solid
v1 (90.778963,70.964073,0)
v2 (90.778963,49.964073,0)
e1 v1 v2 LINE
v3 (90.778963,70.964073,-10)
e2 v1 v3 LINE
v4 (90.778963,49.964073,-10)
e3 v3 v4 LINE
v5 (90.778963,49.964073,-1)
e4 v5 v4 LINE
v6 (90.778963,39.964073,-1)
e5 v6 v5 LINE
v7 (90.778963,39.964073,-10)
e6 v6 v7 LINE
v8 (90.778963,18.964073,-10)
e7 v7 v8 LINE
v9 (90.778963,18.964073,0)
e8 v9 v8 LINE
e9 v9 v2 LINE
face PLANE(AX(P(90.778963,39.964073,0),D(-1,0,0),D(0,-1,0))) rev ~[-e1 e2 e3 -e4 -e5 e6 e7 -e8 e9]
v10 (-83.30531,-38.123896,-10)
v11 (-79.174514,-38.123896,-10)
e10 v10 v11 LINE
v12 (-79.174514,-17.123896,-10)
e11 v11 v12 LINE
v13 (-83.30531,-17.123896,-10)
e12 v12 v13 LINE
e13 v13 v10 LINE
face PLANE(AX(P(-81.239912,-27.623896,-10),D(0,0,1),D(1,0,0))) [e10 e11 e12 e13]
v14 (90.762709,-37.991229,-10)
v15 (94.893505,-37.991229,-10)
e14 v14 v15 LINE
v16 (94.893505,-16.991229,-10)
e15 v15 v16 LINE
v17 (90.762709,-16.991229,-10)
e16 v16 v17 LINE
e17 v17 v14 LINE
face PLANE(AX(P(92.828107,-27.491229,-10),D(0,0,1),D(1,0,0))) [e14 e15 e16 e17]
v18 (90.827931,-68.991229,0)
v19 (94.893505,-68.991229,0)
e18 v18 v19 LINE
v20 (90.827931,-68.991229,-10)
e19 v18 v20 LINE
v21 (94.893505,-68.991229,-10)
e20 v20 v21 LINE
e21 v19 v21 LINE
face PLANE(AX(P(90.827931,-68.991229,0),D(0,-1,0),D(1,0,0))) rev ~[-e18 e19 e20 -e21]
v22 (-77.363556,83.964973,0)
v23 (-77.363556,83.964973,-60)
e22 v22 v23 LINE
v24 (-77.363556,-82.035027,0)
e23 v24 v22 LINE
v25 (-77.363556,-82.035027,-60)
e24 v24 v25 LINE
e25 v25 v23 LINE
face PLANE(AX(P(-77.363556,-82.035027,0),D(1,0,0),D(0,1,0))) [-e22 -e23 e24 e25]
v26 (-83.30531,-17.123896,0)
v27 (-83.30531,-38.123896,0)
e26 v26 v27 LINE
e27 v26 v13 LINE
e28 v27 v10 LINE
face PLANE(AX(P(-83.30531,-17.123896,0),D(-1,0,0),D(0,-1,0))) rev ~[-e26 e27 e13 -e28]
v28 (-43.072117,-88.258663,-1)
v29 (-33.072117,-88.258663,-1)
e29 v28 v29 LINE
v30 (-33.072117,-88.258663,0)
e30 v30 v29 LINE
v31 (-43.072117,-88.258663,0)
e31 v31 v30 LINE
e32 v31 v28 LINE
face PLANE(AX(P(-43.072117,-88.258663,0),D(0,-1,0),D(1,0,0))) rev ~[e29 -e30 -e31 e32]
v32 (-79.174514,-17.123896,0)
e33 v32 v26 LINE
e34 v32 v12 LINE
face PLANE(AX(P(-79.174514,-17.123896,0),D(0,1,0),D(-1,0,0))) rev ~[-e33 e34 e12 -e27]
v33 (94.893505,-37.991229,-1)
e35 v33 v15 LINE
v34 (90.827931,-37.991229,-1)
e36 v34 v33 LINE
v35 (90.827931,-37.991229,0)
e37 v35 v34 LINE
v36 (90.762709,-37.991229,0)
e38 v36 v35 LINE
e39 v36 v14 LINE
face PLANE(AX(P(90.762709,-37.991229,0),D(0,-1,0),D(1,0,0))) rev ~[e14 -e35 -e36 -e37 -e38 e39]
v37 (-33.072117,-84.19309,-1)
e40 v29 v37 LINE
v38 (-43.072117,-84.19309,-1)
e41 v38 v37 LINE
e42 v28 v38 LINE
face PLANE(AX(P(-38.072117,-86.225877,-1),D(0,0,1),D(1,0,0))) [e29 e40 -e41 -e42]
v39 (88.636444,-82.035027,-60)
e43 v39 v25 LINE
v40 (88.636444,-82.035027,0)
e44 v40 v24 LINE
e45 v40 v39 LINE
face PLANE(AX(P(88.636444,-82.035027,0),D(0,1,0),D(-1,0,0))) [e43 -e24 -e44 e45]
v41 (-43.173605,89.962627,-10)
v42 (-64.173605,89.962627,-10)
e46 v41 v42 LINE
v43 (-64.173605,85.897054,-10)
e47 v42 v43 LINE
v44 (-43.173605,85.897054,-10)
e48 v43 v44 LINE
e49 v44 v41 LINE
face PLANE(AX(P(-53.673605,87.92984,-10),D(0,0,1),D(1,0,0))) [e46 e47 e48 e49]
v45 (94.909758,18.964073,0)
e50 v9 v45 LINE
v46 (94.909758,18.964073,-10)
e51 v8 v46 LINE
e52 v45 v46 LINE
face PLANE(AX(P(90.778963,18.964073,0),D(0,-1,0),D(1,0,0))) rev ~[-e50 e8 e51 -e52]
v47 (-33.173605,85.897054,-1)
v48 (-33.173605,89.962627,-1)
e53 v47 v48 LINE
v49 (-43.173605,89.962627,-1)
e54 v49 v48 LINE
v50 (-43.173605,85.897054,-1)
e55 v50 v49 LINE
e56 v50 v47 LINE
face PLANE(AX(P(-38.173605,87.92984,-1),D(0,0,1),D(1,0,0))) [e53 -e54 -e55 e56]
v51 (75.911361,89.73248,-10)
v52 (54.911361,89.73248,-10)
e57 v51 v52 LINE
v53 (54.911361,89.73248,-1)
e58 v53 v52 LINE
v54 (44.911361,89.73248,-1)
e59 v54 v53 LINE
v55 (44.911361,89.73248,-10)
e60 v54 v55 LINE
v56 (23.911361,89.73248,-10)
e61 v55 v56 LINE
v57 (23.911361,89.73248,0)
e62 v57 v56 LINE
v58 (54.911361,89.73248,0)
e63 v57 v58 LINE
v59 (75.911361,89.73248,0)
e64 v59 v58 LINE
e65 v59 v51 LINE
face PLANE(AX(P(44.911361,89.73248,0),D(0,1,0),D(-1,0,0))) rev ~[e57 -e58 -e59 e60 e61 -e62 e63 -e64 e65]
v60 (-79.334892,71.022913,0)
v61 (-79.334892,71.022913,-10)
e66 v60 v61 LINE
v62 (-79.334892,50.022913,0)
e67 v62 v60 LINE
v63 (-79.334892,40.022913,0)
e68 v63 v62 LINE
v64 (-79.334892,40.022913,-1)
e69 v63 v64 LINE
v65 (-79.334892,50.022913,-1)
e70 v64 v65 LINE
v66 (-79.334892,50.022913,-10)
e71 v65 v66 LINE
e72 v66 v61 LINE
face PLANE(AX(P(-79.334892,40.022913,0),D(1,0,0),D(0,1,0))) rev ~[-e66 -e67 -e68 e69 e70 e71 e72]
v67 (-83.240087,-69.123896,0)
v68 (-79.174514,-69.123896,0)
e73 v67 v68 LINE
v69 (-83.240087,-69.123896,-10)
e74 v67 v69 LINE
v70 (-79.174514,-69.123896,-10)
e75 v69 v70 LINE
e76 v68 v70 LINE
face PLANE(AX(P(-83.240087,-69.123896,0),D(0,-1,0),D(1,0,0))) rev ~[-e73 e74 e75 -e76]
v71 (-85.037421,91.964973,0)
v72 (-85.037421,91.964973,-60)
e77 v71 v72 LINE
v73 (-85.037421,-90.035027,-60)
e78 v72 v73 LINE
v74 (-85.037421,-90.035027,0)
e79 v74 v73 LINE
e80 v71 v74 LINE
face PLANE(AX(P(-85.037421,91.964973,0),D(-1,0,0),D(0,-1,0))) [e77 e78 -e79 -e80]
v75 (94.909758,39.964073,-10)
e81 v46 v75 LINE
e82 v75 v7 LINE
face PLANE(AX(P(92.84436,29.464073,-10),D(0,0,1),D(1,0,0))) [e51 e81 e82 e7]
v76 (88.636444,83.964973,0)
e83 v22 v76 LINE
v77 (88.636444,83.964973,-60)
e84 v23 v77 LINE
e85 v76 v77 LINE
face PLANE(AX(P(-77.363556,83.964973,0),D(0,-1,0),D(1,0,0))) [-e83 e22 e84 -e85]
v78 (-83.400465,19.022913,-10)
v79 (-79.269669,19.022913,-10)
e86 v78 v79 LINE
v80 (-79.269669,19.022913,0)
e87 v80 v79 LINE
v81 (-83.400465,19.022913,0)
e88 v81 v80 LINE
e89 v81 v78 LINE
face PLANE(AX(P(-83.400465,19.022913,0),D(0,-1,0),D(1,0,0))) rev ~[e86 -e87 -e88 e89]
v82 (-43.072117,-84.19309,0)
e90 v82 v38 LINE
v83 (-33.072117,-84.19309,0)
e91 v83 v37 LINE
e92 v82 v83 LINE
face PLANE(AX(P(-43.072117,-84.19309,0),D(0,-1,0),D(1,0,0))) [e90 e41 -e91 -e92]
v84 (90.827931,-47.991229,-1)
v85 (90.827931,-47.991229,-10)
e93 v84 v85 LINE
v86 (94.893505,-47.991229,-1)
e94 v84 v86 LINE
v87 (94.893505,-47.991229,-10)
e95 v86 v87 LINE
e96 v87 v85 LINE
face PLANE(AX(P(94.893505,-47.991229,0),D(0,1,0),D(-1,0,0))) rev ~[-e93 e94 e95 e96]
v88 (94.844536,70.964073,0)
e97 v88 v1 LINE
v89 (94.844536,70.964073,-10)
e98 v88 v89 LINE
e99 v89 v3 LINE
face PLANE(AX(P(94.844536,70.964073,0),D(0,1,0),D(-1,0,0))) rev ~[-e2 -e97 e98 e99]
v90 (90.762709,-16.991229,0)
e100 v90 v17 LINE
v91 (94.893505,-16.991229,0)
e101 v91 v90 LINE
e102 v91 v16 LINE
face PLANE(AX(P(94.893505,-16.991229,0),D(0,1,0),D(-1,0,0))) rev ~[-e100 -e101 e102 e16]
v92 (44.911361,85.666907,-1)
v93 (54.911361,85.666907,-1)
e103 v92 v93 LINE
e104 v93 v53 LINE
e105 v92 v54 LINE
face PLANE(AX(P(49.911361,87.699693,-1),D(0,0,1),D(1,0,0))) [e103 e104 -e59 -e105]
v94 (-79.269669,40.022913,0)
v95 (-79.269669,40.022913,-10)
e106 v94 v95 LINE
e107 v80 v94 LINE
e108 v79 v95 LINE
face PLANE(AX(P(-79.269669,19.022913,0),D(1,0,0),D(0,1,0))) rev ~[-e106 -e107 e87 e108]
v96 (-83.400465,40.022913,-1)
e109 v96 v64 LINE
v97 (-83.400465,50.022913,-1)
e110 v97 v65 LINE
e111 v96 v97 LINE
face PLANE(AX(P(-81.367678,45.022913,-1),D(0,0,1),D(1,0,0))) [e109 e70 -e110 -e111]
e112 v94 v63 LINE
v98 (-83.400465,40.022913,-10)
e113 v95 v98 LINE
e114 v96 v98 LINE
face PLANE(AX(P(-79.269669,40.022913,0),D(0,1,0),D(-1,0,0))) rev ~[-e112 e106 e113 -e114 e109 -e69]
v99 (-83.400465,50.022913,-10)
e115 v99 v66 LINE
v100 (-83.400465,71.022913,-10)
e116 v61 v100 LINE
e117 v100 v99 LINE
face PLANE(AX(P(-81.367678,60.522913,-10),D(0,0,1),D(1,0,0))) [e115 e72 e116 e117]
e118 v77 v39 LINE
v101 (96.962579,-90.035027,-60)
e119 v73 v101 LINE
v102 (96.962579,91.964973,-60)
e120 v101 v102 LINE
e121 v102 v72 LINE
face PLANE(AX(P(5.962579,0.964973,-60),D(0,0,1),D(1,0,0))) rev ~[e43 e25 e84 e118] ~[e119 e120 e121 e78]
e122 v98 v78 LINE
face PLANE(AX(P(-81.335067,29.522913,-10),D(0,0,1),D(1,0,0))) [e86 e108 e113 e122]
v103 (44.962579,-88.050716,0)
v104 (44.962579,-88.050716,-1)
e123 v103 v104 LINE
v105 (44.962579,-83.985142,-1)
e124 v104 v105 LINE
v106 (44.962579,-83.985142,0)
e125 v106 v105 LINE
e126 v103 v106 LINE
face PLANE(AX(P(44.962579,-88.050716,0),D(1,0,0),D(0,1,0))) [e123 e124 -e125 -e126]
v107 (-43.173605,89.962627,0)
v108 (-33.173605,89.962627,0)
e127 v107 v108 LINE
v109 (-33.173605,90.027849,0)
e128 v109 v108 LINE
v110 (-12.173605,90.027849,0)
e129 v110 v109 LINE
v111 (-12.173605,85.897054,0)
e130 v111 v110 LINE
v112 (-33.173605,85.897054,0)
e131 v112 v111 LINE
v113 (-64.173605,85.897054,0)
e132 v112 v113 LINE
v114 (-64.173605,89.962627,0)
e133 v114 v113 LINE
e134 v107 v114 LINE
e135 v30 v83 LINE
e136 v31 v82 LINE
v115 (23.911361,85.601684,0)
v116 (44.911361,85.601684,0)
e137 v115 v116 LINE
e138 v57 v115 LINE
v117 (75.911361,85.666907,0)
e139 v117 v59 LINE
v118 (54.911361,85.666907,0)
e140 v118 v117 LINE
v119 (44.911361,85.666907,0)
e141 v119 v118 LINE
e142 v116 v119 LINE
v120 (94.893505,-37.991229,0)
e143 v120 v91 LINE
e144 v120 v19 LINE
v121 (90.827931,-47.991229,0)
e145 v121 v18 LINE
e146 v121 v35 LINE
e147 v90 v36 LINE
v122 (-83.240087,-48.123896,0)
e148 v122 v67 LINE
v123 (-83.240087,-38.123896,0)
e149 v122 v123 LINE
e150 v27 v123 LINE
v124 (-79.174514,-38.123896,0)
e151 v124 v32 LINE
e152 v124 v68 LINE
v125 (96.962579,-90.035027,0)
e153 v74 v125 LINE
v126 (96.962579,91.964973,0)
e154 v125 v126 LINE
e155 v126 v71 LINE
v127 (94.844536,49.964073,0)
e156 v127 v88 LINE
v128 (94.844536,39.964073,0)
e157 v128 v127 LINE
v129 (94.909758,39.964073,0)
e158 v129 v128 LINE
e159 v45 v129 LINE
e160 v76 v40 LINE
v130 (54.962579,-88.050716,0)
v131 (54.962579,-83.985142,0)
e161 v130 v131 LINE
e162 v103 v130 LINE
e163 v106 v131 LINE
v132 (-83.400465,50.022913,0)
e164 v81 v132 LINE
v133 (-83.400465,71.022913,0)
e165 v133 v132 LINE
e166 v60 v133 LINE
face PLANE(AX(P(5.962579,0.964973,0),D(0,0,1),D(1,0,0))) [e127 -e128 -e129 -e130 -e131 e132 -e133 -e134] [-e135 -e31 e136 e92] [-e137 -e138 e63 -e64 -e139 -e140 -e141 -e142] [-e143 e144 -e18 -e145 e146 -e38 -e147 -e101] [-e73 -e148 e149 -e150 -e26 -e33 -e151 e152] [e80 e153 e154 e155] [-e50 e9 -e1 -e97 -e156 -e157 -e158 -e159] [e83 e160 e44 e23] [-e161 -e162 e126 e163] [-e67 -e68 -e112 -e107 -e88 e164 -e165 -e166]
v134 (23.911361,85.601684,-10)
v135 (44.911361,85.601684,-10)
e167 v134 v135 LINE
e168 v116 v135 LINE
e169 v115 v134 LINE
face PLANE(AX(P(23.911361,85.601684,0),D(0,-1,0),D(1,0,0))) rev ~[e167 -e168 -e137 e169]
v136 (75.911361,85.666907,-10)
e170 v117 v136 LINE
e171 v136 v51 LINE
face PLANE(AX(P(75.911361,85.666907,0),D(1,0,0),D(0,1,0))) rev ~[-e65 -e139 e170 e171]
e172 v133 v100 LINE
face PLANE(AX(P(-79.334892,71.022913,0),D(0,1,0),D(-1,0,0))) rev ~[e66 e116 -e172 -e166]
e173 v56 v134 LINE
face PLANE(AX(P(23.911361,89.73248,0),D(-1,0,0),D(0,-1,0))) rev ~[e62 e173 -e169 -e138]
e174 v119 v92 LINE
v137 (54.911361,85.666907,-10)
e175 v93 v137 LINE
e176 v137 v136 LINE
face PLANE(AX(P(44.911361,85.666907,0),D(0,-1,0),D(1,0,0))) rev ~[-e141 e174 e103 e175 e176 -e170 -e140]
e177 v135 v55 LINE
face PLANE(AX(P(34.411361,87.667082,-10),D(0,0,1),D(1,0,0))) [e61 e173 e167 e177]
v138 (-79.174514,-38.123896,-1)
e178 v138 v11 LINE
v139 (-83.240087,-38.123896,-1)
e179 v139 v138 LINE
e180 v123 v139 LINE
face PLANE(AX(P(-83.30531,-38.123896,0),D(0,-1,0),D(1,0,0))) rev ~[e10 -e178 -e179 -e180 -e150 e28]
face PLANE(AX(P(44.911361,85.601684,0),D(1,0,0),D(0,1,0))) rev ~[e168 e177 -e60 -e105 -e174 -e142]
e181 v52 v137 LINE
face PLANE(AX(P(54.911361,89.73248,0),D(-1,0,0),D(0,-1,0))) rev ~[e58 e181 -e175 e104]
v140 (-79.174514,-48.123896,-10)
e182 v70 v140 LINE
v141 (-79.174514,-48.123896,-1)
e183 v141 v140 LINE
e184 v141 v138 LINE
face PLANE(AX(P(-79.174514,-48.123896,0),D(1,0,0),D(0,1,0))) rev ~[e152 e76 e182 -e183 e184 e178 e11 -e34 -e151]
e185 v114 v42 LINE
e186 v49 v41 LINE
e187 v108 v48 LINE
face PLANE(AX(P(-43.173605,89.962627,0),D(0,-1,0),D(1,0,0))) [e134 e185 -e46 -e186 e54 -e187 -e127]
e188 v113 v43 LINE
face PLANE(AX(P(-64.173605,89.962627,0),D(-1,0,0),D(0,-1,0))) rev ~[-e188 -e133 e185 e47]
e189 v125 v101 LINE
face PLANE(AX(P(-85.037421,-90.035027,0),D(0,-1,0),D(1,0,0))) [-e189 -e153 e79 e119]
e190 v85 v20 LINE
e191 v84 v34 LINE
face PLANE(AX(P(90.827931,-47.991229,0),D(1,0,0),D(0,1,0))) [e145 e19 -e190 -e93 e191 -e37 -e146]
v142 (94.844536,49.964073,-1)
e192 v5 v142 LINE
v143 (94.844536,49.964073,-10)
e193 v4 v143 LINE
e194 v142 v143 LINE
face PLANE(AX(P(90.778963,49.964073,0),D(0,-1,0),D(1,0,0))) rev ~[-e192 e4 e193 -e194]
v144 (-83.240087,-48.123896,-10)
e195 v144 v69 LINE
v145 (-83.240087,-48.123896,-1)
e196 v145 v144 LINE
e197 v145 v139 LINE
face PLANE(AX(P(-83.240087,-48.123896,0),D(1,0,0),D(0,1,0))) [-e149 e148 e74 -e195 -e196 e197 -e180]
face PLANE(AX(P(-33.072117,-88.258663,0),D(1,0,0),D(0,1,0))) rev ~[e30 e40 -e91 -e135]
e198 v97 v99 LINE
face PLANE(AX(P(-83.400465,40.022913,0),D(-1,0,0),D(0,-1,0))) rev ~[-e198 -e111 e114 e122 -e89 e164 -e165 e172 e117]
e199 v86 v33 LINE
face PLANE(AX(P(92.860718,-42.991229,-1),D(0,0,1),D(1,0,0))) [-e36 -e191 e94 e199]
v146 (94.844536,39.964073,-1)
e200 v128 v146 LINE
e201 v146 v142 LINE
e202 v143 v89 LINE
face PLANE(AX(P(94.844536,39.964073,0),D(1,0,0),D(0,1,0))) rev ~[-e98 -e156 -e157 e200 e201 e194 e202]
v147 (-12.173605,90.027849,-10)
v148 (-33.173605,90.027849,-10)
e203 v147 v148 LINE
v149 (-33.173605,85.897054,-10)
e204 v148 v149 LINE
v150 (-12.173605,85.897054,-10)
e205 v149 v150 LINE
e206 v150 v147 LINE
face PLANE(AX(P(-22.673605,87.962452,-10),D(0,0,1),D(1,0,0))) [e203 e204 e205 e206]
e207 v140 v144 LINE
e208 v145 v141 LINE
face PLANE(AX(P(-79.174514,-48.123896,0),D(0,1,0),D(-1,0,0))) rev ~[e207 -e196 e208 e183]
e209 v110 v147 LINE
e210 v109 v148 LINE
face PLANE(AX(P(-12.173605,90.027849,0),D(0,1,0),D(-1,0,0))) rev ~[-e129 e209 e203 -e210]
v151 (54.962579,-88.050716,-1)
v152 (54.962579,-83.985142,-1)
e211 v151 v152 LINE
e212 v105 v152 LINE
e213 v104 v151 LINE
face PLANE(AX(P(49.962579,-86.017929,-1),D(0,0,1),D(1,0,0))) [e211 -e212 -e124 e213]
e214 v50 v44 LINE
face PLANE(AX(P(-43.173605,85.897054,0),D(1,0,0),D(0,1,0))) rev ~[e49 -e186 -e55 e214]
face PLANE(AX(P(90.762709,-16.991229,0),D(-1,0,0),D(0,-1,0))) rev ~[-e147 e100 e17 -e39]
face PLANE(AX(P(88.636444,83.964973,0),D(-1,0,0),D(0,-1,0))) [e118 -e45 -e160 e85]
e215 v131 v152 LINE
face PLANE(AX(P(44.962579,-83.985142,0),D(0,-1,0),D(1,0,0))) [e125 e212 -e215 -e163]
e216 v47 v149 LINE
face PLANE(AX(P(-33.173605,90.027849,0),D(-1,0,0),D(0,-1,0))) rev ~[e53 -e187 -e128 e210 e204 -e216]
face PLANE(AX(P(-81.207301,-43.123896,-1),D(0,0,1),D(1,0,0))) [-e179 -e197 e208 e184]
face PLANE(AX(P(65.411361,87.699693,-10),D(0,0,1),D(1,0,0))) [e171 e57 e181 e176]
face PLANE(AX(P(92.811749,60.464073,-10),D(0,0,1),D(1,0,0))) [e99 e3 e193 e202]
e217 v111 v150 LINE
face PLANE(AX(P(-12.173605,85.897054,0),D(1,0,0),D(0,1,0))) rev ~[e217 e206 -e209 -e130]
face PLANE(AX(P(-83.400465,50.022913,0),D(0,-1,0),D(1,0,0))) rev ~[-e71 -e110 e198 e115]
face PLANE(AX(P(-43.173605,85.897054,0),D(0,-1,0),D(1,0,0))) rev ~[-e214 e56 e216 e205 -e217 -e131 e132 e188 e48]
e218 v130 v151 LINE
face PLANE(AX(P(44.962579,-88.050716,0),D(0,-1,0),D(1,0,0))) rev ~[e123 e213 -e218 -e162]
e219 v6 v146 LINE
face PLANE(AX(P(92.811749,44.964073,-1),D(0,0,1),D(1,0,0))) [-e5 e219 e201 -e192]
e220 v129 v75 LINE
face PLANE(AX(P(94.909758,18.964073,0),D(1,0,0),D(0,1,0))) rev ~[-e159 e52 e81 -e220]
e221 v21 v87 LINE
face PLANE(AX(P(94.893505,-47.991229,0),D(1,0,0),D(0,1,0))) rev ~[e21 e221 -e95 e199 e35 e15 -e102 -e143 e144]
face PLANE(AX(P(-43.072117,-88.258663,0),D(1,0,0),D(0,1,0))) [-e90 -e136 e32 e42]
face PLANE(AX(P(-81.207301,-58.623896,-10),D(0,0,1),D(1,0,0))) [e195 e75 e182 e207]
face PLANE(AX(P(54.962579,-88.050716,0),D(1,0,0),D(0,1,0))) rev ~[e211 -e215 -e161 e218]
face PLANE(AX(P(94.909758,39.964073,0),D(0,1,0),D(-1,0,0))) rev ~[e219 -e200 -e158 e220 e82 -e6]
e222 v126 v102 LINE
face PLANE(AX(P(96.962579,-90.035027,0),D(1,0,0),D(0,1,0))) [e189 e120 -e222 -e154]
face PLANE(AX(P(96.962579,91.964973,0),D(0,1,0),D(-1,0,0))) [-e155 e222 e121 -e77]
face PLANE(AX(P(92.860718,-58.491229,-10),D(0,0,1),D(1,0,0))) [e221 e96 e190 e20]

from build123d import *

# Parameters (mm, degrees)
F0_W     = 4.0655732155
F0_H     = 10
F0_W_2   = 10
F0_H_2   = 4.0655732155
F1_DEPTH = 60
F2_DEPTH = 10
F3_DEPTH = 1


with BuildPart() as f1:
    # F0 (on Top) → F1 (new body)
    with BuildSketch(Plane.XY):
        Polygon((-81.7574552458, 91.9649731191), (-85.0374214202, 91.9649731191), (-85.0374214202, 87.5400633349), (-85.0374214202, 55.211449102), (-85.0374214202, -53.3124324366), (-85.0374214202, -86.6156537372), (-85.0374214202, -90.0350268809), (-80.8175235253, -90.0350268809), (-48.580678454, -90.0350268809), (96.9625785798, -90.0350268809), (96.9625785798, 91.9649731191), align=None)
        Polygon((-33.0721171855, -88.258663221), (-43.0721171855, -88.258663221), (-48.580678454, -88.258663221), (-64.0721171855, -88.258663221), (-64.0721171855, -84.1930900056), (-43.0721171855, -84.1930900056), (-33.0721171855, -84.1930900056), (-33.0721171855, -84.127867623), (-12.0721171855, -84.127867623), (-12.0721171855, -88.258663221), align=None, mode=Mode.SUBTRACT)
        Polygon((-79.1745140415, -38.1238959565), (-79.1745140415, -48.1238959565), (-79.1745140415, -53.3124324366), (-79.1745140415, -69.1238959565), (-83.240087257, -69.1238959565), (-83.240087257, -53.3124324366), (-83.240087257, -48.1238959565), (-83.240087257, -38.1238959565), (-83.3053096395, -38.1238959565), (-83.3053096395, -17.1238959565), (-79.1745140415, -17.1238959565), align=None, mode=Mode.SUBTRACT)
        Polygon((44.9625785798, -83.9851424098), (54.9625785798, -83.9851424098), (60.1511150599, -83.9851424098), (75.9625785798, -83.9851424098), (75.9625785798, -88.0507156253), (60.1511150599, -88.0507156253), (54.9625785798, -88.0507156253), (44.9625785798, -88.0507156253), (44.9625785798, -88.1159380078), (23.9625785798, -88.1159380078), (23.9625785798, -83.9851424098), align=None, mode=Mode.SUBTRACT)
        Polygon((94.8935046063, -37.9912286836), (94.8935046063, -47.9912286836), (94.8935046063, -53.1797651637), (94.8935046063, -68.9912286836), (90.8279313908, -68.9912286836), (90.8279313908, -53.1797651637), (90.8279313908, -47.9912286836), (90.8279313908, -37.9912286836), (90.7627090082, -37.9912286836), (90.7627090082, -16.9912286836), (94.8935046063, -16.9912286836), align=None, mode=Mode.SUBTRACT)
        Polygon((-83.4004647296, 40.0229126219), (-83.4004647296, 50.0229126219), (-83.4004647296, 55.211449102), (-83.4004647296, 71.0229126219), (-79.3348915141, 71.0229126219), (-79.3348915141, 55.211449102), (-79.3348915141, 50.0229126219), (-79.3348915141, 40.0229126219), (-79.2696691316, 40.0229126219), (-79.2696691316, 19.0229126219), (-83.4004647296, 19.0229126219), align=None, mode=Mode.SUBTRACT)
        Polygon((-77.3635556847, 55.211449102), (-77.3635556847, 83.9649731191), (-48.3621415186, 83.9649731191), (61.3571461726, 83.9649731191), (88.6364443153, 83.9649731191), (88.6364443153, -82.0350268809), (-77.3635556847, -82.0350268809), (-77.3635556847, -53.3124324366), align=None, mode=Mode.SUBTRACT)
        Polygon((-33.1736050386, 85.8970538511), (-43.1736050386, 85.8970538511), (-48.3621415186, 85.8970538511), (-64.1736050386, 85.8970538511), (-64.1736050386, 89.9626270666), (-48.3621415186, 89.9626270666), (-43.1736050386, 89.9626270666), (-33.1736050386, 89.9626270666), (-33.1736050386, 90.0278494491), (-12.1736050386, 90.0278494491), (-12.1736050386, 85.8970538511), align=None, mode=Mode.SUBTRACT)
        Polygon((90.7789625961, 39.9640733615), (90.7789625961, 49.9640733615), (90.7789625961, 55.1526098416), (90.7789625961, 70.9640733615), (94.8445358116, 70.9640733615), (94.8445358116, 55.1526098416), (94.8445358116, 49.9640733615), (94.8445358116, 39.9640733615), (94.9097581941, 39.9640733615), (94.9097581941, 18.9640733615), (90.7789625961, 18.9640733615), align=None, mode=Mode.SUBTRACT)
        Polygon((44.9113614697, 89.7324799762), (54.9113614697, 89.7324799762), (61.3571461726, 89.7324799762), (75.9113614697, 89.7324799762), (75.9113614697, 85.6669067607), (61.3571461726, 85.6669067607), (54.9113614697, 85.6669067607), (44.9113614697, 85.6669067607), (44.9113614697, 85.6016843782), (23.9113614697, 85.6016843782), (23.9113614697, 89.7324799762), align=None, mode=Mode.SUBTRACT)
        Polygon((-79.3348915141, 40.0229126219), (-83.4004647296, 40.0229126219), (-83.4004647296, 19.0229126219), (-79.2696691316, 19.0229126219), (-79.2696691316, 40.0229126219), align=None)
        with Locations((-81.3676781219, 45.0229126219)):
            Rectangle(F0_W, F0_H)
        Polygon((-83.4004647296, 55.211449102), (-83.4004647296, 50.0229126219), (-79.3348915141, 50.0229126219), (-79.3348915141, 55.211449102), (-79.3348915141, 71.0229126219), (-83.4004647296, 71.0229126219), align=None)
        Polygon((-48.3621415186, 85.8970538511), (-43.1736050386, 85.8970538511), (-43.1736050386, 89.9626270666), (-48.3621415186, 89.9626270666), (-64.1736050386, 89.9626270666), (-64.1736050386, 85.8970538511), align=None)
        with Locations((-38.1736050386, 87.9298404588)):
            Rectangle(F0_W_2, F0_H_2)
        Polygon((-33.1736050386, 89.9626270666), (-33.1736050386, 85.8970538511), (-12.1736050386, 85.8970538511), (-12.1736050386, 90.0278494491), (-33.1736050386, 90.0278494491), align=None)
        Polygon((44.9113614697, 85.6669067607), (44.9113614697, 89.7324799762), (23.9113614697, 89.7324799762), (23.9113614697, 85.6016843782), (44.9113614697, 85.6016843782), align=None)
        with Locations((49.9113614697, 87.6996933685)):
            Rectangle(F0_W_2, F0_H_2)
        Polygon((61.3571461726, 89.7324799762), (54.9113614697, 89.7324799762), (54.9113614697, 85.6669067607), (61.3571461726, 85.6669067607), (75.9113614697, 85.6669067607), (75.9113614697, 89.7324799762), align=None)
        Polygon((90.7789625961, 55.1526098416), (90.7789625961, 49.9640733615), (94.8445358116, 49.9640733615), (94.8445358116, 55.1526098416), (94.8445358116, 70.9640733615), (90.7789625961, 70.9640733615), align=None)
        with Locations((92.8117492038, 44.9640733615)):
            Rectangle(F0_W, F0_H)
        Polygon((94.8445358116, 39.9640733615), (90.7789625961, 39.9640733615), (90.7789625961, 18.9640733615), (94.9097581941, 18.9640733615), (94.9097581941, 39.9640733615), align=None)
        Polygon((90.8279313908, -37.9912286836), (94.8935046063, -37.9912286836), (94.8935046063, -16.9912286836), (90.7627090082, -16.9912286836), (90.7627090082, -37.9912286836), align=None)
        with Locations((92.8607179985, -42.9912286836)):
            Rectangle(F0_W, F0_H)
        Polygon((94.8935046063, -53.1797651637), (94.8935046063, -47.9912286836), (90.8279313908, -47.9912286836), (90.8279313908, -53.1797651637), (90.8279313908, -68.9912286836), (94.8935046063, -68.9912286836), align=None)
        Polygon((60.1511150599, -83.9851424098), (54.9625785798, -83.9851424098), (54.9625785798, -88.0507156253), (60.1511150599, -88.0507156253), (75.9625785798, -88.0507156253), (75.9625785798, -83.9851424098), align=None)
        with Locations((49.9625785798, -86.0179290175)):
            Rectangle(F0_W_2, F0_H_2)
        Polygon((44.9625785798, -88.0507156253), (44.9625785798, -83.9851424098), (23.9625785798, -83.9851424098), (23.9625785798, -88.1159380078), (44.9625785798, -88.1159380078), align=None)
        Polygon((-33.0721171855, -84.1930900056), (-33.0721171855, -88.258663221), (-12.0721171855, -88.258663221), (-12.0721171855, -84.127867623), (-33.0721171855, -84.127867623), align=None)
        with Locations((-38.0721171855, -86.2258766133)):
            Rectangle(F0_W_2, F0_H_2)
        Polygon((-48.580678454, -88.258663221), (-43.0721171855, -88.258663221), (-43.0721171855, -84.1930900056), (-64.0721171855, -84.1930900056), (-64.0721171855, -88.258663221), align=None)
        Polygon((-79.1745140415, -53.3124324366), (-79.1745140415, -48.1238959565), (-83.240087257, -48.1238959565), (-83.240087257, -53.3124324366), (-83.240087257, -69.1238959565), (-79.1745140415, -69.1238959565), align=None)
        with Locations((-81.2073006492, -43.1238959565)):
            Rectangle(F0_W, F0_H)
        Polygon((-83.240087257, -38.1238959565), (-79.1745140415, -38.1238959565), (-79.1745140415, -17.1238959565), (-83.3053096395, -17.1238959565), (-83.3053096395, -38.1238959565), align=None)
    extrude(amount=-F1_DEPTH)

    # F0 (on Top) → F2 (cut)
    with BuildSketch(Plane.XY):
        Polygon((-83.4004647296, 55.211449102), (-83.4004647296, 50.0229126219), (-79.3348915141, 50.0229126219), (-79.3348915141, 55.211449102), (-79.3348915141, 71.0229126219), (-83.4004647296, 71.0229126219), align=None)
        Polygon((-79.3348915141, 40.0229126219), (-83.4004647296, 40.0229126219), (-83.4004647296, 19.0229126219), (-79.2696691316, 19.0229126219), (-79.2696691316, 40.0229126219), align=None)
        Polygon((90.7789625961, 55.1526098416), (90.7789625961, 49.9640733615), (94.8445358116, 49.9640733615), (94.8445358116, 55.1526098416), (94.8445358116, 70.9640733615), (90.7789625961, 70.9640733615), align=None)
        Polygon((94.8445358116, 39.9640733615), (90.7789625961, 39.9640733615), (90.7789625961, 18.9640733615), (94.9097581941, 18.9640733615), (94.9097581941, 39.9640733615), align=None)
        Polygon((-83.240087257, -38.1238959565), (-79.1745140415, -38.1238959565), (-79.1745140415, -17.1238959565), (-83.3053096395, -17.1238959565), (-83.3053096395, -38.1238959565), align=None)
        Polygon((-79.1745140415, -53.3124324366), (-79.1745140415, -48.1238959565), (-83.240087257, -48.1238959565), (-83.240087257, -53.3124324366), (-83.240087257, -69.1238959565), (-79.1745140415, -69.1238959565), align=None)
        Polygon((94.8935046063, -53.1797651637), (94.8935046063, -47.9912286836), (90.8279313908, -47.9912286836), (90.8279313908, -53.1797651637), (90.8279313908, -68.9912286836), (94.8935046063, -68.9912286836), align=None)
        Polygon((90.8279313908, -37.9912286836), (94.8935046063, -37.9912286836), (94.8935046063, -16.9912286836), (90.7627090082, -16.9912286836), (90.7627090082, -37.9912286836), align=None)
        Polygon((61.3571461726, 89.7324799762), (54.9113614697, 89.7324799762), (54.9113614697, 85.6669067607), (61.3571461726, 85.6669067607), (75.9113614697, 85.6669067607), (75.9113614697, 89.7324799762), align=None)
        Polygon((44.9113614697, 85.6669067607), (44.9113614697, 89.7324799762), (23.9113614697, 89.7324799762), (23.9113614697, 85.6016843782), (44.9113614697, 85.6016843782), align=None)
        Polygon((-33.1736050386, 89.9626270666), (-33.1736050386, 85.8970538511), (-12.1736050386, 85.8970538511), (-12.1736050386, 90.0278494491), (-33.1736050386, 90.0278494491), align=None)
        Polygon((-48.3621415186, 85.8970538511), (-43.1736050386, 85.8970538511), (-43.1736050386, 89.9626270666), (-48.3621415186, 89.9626270666), (-64.1736050386, 89.9626270666), (-64.1736050386, 85.8970538511), align=None)
    extrude(amount=-F2_DEPTH, mode=Mode.SUBTRACT)

    # F0 (on Top) → F3 (cut)
    with BuildSketch(Plane.XY):
        with Locations((-81.3676781219, 45.0229126219)):
            Rectangle(F0_W, F0_H)
        with Locations((-81.2073006492, -43.1238959565)):
            Rectangle(F0_W, F0_H)
        with Locations((92.8607179985, -42.9912286836)):
            Rectangle(F0_W, F0_H)
        with Locations((92.8117492038, 44.9640733615)):
            Rectangle(F0_W, F0_H)
        with Locations((49.9113614697, 87.6996933685)):
            Rectangle(F0_W_2, F0_H_2)
        with Locations((-38.1736050386, 87.9298404588)):
            Rectangle(F0_W_2, F0_H_2)
        with Locations((-38.0721171855, -86.2258766133)):
            Rectangle(F0_W_2, F0_H_2)
        with Locations((49.9625785798, -86.0179290175)):
            Rectangle(F0_W_2, F0_H_2)
    extrude(amount=-F3_DEPTH, mode=Mode.SUBTRACT)


solid = f1.part
